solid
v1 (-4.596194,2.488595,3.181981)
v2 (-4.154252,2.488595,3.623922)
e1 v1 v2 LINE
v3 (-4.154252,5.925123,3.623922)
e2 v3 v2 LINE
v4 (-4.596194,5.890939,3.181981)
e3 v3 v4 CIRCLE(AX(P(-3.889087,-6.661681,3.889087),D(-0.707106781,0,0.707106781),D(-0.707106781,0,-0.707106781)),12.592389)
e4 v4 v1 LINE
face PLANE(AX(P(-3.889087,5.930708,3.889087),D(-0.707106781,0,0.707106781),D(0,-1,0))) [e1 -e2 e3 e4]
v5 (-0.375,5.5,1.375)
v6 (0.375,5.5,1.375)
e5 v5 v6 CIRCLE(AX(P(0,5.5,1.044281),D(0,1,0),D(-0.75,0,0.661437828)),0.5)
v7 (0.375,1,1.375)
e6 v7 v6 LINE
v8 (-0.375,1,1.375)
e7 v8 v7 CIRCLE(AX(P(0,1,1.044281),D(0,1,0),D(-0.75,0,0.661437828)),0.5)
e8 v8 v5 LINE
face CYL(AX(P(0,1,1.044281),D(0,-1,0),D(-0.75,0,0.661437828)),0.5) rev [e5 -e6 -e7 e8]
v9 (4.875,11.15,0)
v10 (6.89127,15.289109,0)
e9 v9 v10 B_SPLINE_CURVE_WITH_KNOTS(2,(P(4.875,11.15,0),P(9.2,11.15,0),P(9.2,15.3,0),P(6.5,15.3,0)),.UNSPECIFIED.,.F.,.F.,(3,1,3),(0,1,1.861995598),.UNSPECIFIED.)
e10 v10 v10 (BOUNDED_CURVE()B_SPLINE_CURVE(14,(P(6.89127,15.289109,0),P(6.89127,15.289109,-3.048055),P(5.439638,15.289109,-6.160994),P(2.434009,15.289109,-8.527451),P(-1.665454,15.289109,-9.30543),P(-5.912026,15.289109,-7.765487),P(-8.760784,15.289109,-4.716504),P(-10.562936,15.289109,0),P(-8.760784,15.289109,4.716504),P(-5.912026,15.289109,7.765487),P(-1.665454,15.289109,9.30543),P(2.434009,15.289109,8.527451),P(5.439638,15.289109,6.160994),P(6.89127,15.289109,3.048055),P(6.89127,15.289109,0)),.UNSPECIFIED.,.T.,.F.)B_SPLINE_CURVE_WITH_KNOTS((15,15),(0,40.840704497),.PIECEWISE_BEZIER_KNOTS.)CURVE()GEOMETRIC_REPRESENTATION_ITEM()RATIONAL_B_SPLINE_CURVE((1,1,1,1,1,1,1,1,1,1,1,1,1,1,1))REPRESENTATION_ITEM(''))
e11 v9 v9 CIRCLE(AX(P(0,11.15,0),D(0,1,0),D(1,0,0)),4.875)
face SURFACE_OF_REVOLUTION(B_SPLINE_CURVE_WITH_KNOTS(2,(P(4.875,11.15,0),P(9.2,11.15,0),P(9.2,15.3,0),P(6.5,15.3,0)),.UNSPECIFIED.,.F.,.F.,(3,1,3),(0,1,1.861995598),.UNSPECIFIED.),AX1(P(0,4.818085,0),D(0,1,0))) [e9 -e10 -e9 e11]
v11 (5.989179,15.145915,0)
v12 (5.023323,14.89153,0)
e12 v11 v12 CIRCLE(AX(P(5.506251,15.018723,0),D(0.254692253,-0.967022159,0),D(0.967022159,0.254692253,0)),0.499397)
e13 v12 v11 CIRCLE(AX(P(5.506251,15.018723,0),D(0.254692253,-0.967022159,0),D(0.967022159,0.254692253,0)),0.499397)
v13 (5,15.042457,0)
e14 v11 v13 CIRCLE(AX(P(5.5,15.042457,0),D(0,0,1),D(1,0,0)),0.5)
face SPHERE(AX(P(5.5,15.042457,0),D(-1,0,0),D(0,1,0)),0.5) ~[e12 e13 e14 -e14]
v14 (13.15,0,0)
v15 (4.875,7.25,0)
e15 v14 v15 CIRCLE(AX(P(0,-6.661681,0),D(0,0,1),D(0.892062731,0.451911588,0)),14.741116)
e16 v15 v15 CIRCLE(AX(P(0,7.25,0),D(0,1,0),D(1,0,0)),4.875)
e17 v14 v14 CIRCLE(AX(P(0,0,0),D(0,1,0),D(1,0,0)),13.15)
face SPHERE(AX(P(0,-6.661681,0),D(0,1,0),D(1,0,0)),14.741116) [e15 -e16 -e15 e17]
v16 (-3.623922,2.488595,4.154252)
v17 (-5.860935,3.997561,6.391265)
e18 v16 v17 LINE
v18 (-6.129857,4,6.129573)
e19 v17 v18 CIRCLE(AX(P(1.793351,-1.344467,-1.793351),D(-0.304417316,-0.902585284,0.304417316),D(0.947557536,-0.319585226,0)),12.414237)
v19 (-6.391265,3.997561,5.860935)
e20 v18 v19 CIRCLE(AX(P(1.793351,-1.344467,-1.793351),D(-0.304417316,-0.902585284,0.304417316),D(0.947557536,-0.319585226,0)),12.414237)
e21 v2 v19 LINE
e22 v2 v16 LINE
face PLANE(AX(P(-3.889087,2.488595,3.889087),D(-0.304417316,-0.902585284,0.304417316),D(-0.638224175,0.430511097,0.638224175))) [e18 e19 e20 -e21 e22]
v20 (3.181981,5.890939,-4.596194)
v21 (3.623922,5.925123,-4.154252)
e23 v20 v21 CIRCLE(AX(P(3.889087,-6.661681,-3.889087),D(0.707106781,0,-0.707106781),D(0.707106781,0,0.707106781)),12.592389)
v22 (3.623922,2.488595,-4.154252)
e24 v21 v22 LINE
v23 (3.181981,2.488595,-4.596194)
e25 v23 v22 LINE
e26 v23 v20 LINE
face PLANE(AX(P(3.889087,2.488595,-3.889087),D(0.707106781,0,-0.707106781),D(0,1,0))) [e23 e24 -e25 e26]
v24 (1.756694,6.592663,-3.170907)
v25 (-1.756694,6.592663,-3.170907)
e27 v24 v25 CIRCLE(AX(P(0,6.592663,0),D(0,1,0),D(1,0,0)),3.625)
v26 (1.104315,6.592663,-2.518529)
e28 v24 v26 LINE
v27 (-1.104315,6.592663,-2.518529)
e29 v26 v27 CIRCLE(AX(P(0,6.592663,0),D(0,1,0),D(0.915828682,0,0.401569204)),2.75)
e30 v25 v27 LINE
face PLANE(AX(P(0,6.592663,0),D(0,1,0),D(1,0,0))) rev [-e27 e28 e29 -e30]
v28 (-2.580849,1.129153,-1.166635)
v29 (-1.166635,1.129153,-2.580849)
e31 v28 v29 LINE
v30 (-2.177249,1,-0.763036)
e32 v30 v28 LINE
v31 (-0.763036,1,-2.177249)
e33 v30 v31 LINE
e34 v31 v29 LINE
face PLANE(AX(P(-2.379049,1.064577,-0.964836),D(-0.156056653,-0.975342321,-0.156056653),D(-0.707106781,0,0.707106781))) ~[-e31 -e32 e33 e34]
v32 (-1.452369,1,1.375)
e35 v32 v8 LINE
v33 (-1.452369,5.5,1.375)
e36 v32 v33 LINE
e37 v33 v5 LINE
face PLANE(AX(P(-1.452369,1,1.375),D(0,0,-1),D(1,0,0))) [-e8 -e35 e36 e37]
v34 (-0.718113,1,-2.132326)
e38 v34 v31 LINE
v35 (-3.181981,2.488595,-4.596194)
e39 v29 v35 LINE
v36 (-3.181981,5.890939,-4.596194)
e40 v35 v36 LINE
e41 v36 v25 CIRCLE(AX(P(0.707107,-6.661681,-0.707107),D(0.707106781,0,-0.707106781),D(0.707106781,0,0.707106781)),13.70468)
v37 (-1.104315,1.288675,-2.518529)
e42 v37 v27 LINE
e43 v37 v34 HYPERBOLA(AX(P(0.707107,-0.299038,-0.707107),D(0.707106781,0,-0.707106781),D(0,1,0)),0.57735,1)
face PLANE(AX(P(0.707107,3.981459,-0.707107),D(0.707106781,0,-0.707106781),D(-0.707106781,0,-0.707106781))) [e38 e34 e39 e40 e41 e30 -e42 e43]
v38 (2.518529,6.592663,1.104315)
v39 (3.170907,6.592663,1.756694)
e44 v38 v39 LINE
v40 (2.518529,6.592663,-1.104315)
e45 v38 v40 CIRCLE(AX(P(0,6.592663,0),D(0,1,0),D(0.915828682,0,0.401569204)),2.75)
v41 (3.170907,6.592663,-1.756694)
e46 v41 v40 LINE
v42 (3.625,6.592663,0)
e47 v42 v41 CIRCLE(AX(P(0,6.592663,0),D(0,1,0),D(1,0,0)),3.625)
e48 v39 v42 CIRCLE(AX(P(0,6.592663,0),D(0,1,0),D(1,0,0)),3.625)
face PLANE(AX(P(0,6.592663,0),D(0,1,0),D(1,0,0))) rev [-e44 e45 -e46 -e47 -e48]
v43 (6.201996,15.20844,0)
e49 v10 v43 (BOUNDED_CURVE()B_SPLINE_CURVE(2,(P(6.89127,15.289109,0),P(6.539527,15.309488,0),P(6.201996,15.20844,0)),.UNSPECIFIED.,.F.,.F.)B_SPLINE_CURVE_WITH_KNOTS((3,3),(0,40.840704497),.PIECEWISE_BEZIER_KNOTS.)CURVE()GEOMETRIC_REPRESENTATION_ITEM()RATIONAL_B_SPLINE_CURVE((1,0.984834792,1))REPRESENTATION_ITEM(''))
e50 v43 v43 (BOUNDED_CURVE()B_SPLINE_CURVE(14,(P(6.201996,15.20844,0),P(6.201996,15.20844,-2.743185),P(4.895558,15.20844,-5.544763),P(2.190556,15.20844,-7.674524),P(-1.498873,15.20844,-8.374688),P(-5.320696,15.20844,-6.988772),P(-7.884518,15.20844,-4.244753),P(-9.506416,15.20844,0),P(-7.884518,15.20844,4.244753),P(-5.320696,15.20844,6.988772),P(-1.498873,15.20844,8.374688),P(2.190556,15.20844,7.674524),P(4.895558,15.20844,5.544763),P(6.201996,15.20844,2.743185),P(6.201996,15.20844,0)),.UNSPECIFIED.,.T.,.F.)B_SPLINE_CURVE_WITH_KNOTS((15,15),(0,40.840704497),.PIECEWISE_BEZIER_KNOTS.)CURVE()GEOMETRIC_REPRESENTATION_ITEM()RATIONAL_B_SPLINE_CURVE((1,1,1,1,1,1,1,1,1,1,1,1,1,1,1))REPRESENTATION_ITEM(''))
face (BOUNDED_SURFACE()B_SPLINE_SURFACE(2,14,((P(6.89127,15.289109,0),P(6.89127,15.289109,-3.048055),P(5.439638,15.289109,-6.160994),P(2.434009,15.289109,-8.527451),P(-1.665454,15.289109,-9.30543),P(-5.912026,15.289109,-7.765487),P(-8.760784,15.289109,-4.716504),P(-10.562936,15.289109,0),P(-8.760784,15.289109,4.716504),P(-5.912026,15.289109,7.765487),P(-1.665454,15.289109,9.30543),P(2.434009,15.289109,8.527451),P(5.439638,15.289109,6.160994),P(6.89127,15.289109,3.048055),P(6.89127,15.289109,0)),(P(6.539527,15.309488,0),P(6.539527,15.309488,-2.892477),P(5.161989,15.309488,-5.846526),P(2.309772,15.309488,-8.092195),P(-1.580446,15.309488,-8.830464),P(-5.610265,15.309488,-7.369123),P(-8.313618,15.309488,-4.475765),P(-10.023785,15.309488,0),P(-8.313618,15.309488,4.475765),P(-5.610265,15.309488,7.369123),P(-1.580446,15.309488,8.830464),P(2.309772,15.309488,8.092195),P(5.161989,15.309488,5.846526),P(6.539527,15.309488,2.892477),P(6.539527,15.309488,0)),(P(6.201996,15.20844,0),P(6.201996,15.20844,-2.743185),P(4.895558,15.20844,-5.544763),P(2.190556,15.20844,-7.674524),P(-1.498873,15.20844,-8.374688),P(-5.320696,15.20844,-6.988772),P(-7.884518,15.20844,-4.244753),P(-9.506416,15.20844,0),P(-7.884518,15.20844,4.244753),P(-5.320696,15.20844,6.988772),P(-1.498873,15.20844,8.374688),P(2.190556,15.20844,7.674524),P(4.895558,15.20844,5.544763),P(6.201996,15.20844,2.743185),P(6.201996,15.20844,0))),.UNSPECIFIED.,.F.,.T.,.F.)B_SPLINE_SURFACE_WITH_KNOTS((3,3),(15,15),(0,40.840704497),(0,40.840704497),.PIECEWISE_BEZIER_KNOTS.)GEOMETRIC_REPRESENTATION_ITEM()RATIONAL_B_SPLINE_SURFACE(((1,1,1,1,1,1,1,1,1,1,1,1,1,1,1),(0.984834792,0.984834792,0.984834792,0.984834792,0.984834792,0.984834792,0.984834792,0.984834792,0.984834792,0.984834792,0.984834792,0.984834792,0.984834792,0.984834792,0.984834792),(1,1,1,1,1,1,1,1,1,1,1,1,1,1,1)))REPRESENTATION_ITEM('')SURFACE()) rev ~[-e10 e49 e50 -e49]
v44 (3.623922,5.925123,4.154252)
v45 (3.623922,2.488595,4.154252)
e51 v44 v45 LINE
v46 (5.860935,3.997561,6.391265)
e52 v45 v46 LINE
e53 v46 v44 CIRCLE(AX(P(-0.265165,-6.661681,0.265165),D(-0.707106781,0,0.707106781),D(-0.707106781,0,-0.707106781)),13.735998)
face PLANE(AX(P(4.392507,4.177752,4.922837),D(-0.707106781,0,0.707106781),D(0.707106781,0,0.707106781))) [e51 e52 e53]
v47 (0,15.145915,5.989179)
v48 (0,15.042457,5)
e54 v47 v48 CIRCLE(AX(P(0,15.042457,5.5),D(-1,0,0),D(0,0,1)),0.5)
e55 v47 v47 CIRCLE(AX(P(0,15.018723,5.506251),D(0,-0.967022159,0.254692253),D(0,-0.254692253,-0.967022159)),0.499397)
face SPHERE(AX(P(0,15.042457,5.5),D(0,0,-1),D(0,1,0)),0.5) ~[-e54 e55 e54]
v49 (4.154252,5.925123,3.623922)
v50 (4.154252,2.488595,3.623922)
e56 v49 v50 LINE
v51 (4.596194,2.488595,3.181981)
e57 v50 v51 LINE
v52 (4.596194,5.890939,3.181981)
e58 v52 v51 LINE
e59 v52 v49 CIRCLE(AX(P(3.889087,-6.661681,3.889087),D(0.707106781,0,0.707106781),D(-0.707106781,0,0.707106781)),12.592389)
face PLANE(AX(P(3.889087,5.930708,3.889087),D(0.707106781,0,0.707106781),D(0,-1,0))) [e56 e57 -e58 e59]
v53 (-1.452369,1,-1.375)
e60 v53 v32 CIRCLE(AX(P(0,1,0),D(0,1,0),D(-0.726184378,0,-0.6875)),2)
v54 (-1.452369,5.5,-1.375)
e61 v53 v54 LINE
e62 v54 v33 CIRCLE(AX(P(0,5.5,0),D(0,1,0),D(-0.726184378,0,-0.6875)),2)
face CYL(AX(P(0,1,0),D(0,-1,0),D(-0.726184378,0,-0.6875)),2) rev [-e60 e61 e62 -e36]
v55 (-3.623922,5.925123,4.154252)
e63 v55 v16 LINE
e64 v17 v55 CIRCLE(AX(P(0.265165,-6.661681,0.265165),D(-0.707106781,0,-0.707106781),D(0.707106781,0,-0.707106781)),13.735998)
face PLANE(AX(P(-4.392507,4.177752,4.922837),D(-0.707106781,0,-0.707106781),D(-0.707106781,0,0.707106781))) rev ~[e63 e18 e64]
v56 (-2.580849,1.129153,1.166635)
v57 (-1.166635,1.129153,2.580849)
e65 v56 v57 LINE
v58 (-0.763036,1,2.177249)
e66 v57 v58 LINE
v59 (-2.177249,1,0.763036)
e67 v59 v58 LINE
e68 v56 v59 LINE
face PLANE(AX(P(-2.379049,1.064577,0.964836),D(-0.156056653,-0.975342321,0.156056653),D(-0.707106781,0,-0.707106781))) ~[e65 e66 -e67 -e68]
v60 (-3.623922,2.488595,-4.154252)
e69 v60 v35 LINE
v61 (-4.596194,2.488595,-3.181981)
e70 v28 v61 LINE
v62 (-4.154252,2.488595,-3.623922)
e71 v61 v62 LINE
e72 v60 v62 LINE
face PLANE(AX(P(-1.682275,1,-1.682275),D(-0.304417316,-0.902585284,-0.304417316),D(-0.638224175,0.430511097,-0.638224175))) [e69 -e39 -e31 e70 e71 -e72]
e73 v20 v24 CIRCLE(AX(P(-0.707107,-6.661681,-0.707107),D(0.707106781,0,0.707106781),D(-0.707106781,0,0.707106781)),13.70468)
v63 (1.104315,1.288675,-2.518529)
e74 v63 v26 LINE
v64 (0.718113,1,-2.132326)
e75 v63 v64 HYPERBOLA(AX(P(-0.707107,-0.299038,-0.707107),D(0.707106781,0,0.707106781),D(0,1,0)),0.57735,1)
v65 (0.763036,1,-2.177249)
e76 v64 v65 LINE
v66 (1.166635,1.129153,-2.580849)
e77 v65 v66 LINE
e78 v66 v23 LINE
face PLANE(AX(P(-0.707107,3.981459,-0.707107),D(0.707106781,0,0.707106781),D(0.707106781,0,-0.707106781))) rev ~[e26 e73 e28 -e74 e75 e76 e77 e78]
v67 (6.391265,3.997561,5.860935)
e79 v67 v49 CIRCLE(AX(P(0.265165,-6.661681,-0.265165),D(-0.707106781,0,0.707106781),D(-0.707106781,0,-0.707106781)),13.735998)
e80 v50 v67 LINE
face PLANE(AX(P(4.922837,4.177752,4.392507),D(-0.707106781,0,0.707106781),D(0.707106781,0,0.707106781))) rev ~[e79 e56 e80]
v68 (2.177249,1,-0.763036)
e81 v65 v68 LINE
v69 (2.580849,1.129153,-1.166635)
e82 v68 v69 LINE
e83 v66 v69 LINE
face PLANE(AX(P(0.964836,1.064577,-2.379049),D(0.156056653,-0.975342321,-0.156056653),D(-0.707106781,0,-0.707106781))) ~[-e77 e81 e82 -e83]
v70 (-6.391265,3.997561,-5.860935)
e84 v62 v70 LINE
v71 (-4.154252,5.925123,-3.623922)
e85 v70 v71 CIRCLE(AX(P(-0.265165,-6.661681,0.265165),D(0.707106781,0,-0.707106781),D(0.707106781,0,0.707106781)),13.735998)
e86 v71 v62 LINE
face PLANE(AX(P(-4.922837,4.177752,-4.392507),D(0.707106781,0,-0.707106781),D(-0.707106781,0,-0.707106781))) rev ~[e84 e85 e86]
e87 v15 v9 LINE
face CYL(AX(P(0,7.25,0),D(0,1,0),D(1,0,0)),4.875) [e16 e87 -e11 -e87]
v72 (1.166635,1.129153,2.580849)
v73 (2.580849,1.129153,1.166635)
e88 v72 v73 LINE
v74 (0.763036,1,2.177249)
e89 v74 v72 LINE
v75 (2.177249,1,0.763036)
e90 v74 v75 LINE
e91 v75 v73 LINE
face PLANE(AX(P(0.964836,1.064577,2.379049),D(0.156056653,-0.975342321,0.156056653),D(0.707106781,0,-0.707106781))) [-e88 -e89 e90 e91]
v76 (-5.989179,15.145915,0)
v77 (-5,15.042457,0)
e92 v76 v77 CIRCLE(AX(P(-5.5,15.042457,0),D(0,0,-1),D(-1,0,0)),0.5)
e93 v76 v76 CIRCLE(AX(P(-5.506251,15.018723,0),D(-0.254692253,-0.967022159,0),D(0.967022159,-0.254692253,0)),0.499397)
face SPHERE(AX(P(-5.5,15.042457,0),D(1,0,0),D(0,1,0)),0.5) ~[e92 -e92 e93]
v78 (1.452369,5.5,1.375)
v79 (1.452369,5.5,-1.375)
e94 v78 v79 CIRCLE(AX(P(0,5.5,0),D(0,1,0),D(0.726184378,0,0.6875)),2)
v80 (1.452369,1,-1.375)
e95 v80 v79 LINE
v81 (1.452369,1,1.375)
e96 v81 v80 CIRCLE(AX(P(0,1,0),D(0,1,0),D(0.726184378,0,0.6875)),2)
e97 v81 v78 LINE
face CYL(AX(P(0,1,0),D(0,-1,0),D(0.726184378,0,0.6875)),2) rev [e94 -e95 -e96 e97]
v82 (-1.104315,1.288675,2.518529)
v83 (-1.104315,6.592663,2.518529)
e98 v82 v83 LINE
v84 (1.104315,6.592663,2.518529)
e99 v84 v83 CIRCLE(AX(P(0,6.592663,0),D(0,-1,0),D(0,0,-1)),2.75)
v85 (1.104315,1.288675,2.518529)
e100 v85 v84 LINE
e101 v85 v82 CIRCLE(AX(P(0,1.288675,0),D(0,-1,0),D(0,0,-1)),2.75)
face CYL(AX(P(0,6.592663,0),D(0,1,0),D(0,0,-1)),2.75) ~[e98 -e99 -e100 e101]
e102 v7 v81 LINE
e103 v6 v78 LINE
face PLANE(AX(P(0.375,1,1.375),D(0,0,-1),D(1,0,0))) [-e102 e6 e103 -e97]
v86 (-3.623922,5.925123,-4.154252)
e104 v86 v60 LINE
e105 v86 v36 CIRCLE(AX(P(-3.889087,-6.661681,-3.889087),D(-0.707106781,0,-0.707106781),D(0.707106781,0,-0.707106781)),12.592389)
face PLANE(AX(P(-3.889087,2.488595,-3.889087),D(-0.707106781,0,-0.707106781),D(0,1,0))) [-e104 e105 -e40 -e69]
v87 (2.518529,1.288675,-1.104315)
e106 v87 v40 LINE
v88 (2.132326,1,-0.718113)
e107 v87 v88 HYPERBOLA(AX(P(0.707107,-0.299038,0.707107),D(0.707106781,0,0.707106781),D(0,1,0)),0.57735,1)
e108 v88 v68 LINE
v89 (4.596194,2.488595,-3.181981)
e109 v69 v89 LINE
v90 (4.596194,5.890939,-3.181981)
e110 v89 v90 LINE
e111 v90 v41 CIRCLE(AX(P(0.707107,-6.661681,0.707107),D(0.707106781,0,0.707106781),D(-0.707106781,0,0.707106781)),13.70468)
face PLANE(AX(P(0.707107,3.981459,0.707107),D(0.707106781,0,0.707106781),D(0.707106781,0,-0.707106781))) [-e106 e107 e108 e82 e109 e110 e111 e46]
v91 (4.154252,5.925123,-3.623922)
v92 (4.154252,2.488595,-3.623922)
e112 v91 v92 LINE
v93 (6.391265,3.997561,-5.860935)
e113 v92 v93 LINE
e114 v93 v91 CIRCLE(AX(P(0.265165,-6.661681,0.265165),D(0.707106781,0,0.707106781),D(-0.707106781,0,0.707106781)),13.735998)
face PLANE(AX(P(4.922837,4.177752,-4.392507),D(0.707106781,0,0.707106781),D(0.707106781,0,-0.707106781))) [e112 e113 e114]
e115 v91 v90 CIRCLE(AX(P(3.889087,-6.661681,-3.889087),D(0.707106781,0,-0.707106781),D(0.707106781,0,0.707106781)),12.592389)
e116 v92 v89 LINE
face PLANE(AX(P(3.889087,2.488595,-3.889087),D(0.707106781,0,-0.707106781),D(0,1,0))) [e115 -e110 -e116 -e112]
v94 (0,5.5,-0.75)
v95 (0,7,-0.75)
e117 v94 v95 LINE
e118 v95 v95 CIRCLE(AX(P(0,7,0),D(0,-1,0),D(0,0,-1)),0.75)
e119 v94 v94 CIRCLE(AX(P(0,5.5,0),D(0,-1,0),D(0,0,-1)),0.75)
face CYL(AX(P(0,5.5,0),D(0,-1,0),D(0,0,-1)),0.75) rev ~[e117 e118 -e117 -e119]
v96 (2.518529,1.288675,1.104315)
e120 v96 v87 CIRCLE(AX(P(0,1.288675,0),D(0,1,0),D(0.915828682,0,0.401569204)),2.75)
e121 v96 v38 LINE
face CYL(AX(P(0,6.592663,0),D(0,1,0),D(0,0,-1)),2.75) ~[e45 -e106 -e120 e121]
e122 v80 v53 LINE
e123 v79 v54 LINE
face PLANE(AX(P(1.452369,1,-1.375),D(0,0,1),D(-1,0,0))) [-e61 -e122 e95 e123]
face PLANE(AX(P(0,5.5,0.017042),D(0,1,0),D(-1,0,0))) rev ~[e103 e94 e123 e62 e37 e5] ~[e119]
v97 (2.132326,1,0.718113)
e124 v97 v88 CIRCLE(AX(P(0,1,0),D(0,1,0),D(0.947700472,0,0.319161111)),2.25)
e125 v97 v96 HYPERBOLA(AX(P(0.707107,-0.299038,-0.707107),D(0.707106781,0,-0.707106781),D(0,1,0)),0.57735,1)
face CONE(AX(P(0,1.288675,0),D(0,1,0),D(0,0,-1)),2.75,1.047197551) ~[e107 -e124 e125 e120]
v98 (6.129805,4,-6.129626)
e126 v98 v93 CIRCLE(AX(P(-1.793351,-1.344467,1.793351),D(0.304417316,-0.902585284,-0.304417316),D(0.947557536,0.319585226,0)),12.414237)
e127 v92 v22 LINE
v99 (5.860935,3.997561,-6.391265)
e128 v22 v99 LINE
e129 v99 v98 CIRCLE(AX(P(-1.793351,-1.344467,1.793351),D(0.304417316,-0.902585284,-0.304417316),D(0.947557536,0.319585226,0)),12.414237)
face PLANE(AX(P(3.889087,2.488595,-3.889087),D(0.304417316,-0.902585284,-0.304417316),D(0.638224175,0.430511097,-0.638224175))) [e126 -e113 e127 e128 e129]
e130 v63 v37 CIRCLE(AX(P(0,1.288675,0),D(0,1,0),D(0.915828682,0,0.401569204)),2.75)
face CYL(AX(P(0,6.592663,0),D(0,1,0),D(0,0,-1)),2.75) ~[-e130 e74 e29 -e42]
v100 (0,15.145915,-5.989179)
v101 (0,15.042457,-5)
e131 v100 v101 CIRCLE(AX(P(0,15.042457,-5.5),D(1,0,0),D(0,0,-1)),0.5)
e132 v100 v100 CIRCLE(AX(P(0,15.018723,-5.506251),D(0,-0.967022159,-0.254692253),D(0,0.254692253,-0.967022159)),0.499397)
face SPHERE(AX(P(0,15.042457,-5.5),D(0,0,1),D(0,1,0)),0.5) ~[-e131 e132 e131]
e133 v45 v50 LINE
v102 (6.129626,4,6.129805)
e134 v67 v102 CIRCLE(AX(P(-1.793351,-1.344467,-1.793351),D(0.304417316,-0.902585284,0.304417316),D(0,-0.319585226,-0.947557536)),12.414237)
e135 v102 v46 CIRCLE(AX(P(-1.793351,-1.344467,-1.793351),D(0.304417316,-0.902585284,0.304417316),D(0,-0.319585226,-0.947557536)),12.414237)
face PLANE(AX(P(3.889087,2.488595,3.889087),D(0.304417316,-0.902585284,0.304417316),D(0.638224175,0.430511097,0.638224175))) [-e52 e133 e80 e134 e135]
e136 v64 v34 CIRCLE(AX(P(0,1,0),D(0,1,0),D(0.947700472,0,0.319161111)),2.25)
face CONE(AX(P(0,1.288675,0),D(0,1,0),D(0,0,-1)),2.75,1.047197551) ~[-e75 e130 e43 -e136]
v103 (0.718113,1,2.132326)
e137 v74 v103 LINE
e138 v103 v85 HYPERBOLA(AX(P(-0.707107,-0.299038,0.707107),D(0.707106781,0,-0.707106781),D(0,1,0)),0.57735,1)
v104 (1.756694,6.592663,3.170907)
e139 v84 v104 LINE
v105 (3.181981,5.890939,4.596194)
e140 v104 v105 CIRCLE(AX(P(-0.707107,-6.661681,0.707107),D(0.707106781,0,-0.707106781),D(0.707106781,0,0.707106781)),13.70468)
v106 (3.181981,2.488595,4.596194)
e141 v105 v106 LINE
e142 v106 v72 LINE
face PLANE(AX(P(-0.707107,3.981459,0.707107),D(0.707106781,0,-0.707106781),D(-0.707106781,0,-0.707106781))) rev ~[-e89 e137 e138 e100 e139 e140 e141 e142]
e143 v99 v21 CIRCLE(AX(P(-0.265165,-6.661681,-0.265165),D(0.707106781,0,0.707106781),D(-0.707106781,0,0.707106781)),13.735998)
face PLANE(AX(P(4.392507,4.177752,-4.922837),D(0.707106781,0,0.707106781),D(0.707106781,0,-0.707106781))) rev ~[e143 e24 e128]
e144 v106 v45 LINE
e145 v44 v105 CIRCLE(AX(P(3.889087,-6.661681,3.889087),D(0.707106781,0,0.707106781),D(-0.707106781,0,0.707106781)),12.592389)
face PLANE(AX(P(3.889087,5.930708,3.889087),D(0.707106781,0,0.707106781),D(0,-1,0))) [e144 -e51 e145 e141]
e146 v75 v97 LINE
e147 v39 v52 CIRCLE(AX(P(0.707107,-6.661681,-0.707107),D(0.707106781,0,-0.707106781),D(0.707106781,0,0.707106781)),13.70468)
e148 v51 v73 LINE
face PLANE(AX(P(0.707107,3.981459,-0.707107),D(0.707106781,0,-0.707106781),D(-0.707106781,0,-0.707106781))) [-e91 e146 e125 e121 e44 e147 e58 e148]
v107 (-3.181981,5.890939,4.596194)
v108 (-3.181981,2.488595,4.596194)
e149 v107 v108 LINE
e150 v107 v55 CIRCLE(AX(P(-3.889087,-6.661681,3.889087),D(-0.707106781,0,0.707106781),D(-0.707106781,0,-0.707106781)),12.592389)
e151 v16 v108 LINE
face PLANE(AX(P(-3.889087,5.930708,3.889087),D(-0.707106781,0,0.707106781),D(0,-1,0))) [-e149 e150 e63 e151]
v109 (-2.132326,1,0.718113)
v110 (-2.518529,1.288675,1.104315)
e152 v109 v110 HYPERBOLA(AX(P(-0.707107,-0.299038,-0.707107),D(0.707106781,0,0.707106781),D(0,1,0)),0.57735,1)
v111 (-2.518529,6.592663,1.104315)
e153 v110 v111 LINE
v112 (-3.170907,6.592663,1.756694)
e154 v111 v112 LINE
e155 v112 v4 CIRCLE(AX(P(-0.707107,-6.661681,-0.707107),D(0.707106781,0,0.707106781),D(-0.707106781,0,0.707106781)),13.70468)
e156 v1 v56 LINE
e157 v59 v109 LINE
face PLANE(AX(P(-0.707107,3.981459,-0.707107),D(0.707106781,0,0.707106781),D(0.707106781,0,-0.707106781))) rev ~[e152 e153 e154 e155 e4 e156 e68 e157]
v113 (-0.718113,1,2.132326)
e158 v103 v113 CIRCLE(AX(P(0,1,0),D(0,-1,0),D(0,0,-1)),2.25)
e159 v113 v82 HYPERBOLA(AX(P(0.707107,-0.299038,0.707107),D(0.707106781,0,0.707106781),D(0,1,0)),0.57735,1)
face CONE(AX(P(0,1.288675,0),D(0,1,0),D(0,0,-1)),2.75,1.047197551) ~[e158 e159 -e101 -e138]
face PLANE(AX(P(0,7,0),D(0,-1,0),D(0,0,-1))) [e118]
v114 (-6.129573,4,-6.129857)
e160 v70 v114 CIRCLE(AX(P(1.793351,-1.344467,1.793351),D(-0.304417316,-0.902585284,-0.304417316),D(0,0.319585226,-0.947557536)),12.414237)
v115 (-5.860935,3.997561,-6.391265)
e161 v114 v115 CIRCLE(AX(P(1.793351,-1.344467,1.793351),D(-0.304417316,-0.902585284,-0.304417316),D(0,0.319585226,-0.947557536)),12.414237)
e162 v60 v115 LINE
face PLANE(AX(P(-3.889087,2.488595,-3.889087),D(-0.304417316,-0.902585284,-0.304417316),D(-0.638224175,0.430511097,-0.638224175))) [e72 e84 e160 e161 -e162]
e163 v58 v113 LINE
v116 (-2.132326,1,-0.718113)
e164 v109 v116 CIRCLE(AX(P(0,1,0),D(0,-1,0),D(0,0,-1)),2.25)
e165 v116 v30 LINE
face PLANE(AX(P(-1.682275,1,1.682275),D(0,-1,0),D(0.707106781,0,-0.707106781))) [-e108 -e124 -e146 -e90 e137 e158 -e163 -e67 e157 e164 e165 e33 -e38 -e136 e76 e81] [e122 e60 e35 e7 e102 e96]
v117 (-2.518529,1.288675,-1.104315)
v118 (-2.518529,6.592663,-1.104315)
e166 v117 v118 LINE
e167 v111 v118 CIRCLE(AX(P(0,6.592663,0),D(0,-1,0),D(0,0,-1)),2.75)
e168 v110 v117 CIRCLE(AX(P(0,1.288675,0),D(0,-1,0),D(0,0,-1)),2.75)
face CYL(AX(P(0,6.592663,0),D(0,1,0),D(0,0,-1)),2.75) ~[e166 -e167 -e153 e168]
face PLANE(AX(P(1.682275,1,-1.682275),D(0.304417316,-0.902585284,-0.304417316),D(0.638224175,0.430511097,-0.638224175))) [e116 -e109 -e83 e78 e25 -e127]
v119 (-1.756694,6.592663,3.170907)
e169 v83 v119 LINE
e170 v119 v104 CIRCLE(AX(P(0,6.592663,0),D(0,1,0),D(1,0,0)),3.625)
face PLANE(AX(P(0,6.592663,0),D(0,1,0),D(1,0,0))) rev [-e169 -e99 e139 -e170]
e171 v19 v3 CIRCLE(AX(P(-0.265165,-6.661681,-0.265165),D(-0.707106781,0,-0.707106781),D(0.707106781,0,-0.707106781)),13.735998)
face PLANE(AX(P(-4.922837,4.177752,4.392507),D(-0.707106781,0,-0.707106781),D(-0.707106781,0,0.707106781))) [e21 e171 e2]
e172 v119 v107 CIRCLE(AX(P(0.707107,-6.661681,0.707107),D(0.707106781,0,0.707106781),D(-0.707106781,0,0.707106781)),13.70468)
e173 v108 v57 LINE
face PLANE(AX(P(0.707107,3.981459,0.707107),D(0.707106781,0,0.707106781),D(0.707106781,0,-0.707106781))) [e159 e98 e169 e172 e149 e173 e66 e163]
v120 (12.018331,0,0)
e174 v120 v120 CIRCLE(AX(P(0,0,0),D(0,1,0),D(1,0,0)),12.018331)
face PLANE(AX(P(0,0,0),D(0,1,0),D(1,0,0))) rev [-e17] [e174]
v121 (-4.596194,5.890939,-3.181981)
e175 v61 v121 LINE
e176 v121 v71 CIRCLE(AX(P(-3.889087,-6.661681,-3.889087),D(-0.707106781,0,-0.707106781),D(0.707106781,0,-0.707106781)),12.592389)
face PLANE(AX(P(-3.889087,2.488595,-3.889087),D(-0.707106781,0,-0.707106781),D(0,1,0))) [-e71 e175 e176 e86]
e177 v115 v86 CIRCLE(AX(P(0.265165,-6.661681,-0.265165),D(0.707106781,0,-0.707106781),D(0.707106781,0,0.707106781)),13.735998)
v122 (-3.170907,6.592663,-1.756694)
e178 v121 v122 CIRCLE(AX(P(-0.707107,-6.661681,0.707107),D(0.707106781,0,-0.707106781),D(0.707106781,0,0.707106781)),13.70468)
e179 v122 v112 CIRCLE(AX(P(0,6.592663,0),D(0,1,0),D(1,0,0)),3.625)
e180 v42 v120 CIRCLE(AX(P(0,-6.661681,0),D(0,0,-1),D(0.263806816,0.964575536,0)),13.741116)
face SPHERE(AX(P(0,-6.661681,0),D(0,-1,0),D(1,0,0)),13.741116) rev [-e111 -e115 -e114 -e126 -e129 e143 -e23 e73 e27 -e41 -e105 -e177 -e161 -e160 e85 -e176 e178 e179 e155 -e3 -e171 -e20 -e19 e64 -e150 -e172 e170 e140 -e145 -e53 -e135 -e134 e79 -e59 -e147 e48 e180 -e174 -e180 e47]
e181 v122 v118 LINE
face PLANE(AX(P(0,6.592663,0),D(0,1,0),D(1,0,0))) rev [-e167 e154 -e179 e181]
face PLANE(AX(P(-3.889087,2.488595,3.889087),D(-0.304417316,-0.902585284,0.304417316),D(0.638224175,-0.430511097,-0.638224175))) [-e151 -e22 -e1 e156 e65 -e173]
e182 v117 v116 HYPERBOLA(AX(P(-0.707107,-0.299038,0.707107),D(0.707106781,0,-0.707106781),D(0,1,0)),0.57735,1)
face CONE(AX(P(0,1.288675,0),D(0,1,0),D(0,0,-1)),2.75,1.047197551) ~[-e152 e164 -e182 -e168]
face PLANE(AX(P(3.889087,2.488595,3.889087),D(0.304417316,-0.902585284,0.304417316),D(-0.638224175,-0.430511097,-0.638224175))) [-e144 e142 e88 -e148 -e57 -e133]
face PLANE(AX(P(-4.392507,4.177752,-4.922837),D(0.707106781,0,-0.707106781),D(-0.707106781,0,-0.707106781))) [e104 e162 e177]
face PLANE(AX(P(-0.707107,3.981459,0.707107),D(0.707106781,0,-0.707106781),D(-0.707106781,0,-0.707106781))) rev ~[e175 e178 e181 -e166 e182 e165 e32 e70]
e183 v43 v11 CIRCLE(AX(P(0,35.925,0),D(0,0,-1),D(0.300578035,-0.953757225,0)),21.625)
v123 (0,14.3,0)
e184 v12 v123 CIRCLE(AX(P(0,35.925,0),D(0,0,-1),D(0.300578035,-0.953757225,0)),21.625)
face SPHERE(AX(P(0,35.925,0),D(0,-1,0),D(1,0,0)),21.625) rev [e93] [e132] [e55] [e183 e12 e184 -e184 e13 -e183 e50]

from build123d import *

# Parameters (mm, degrees)
FILLET1_R         = 2
CIRPATTERN1_COUNT = 4
SKETCH7_R         = 2.75
EXTRUDE4_DEPTH    = 5.592663071
CHAMFER7_SIZE     = 0.5
CHAMFER7_SIZE2    = 0.288675135
EXTRUDE1_DEPTH    = 1
EXTRUDE2_DEPTH    = 0.375
CIRPATTERN2_COUNT = 2
CIRPATTERN2_ANGLE = 90
CHAMFER8_SIZE     = 0.3
EXTRUDE5_DEPTH    = 4.5
SKETCH10_R        = 0.75
EXTRUDE6_DEPTH    = 1.5


with BuildPart() as part:
    # Sketch1 → Revolve1 (revolve)
    with BuildSketch(Plane.XY):
        with BuildLine():
            Line((4.875, 7.25), (4.875, 11.15))
            add(Edge.make_bspline(
                [(4.875, 11.15), (9.2, 11.15), (9.2, 13.37879152)],
                knots=[0, 0, 0, 1, 1, 1], degree=2))
            add(Edge.make_bspline(
                [(6.5, 15.3), (9.2, 15.3), (9.2, 13.37879152)],
                knots=[0, 0, 0, 1, 1, 1], degree=2))
            ThreePointArc((6.5, 15.3), (3.288236609, 14.551462038), (0, 14.3))
            Line((0, 14.3), (0, 6.592663071))
            Line((0, 6.592663071), (3.625, 6.592663071))
            ThreePointArc((3.625, 6.592663071), (8.487888372, 4.14452152), (12.018330519, 0))
            Line((12.018330519, 0), (13.15, 0))
            ThreePointArc((13.15, 0), (9.714205127, 4.425911714), (4.875, 7.25))
        make_face()
    revolve(axis=Axis((0, 4.818084651, 0), (0, 1, 0)))

    # Fillet1
    fillet1_edges = [part.edges().sort_by_distance(p)[0] for p in [
        (-6.5, 15.3, 0),
    ]]
    fillet(fillet1_edges, radius=FILLET1_R)

    # Sketch2 → Revolve2 (revolve)
    with BuildSketch(Plane.XY):
        with BuildLine():
            Line((5, 15.042457163), (6, 15.042457163))
            ThreePointArc((6, 15.042457163), (5.5, 15.542457163), (5, 15.042457163))
        make_face()
    revolve2 = revolve(axis=Axis((5, 15.042457163, 0), (1, 0, 0)))

    # CirPattern1: Revolve2 ×4 about axis
    cirpattern1_axis = Axis((0, 0, 0), (0, 1, 0))
    for i in range(1, CIRPATTERN1_COUNT):
        add(revolve2.rotate(cirpattern1_axis, i * 360 / CIRPATTERN1_COUNT))

    # Sketch7 → Extrude4 (add)
    with BuildSketch(Plane.XZ.offset(-6.592663071)):
        with Locations(Location((0, 0, 0), (0, 0, 270))):
            Circle(SKETCH7_R)
    extrude(amount=EXTRUDE4_DEPTH)

    # Chamfer7
    chamfer7_edges = [part.edges().sort_by_distance(p)[0] for p in [
        (0, 1, 2.75),
    ]]
    chamfer7_side = [part.faces().sort_by_distance(p)[0] for p in [
        (0, 1, 0),
    ]]
    chamfer(chamfer7_edges, length=CHAMFER7_SIZE, length2=CHAMFER7_SIZE2, reference=chamfer7_side[0])

    # Sketch4 → Extrude1 (add, symmetric)
    with BuildSketch(Plane(origin=(0, 0, 0), x_dir=(-0.7071067811865462, 0, -0.7071067811865488), z_dir=(0.7071067811865488, 0, -0.7071067811865462))):
        with BuildLine():
            Line((-5.5, 5.930708042), (-5.5, 2.488594961))
            Line((-5.5, 2.488594961), (-2.379095763, 1))
            Line((-2.379095763, 1), (2.379095763, 1))
            Line((2.379095763, 1), (5.5, 2.488594961))
            Line((5.5, 2.488594961), (5.5, 5.930708042))
            ThreePointArc((5.5, 5.930708042), (4.574489301, 6.295645476), (3.625, 6.592663071))
            Line((3.625, 6.592663071), (-3.625, 6.592663071))
            ThreePointArc((-3.625, 6.592663071), (-4.574489301, 6.295645476), (-5.5, 5.930708042))
        make_face()
    extrude1 = extrude(amount=EXTRUDE1_DEPTH, both=True)

    # Sketch5 → Extrude2 (add, symmetric)
    with BuildSketch(Plane(origin=(0, 0, 0), x_dir=(0.7071067811865462, 0, 0.7071067811865488), z_dir=(-0.7071067811865488, 0, 0.7071067811865462))):
        with BuildLine():
            Line((-5.5, 2.488594961), (-8.66872656, 4))
            ThreePointArc((-8.66872656, 4), (-7.149832968, 5.072804518), (-5.5, 5.930708042))
            Line((-5.5, 5.930708042), (-5.5, 2.488594961))
        make_face()
        with BuildLine():
            Line((5.5, 2.488594961), (8.66872656, 4))
            ThreePointArc((8.66872656, 4), (7.149832968, 5.072804518), (5.5, 5.930708042))
            Line((5.5, 5.930708042), (5.5, 2.488594961))
        make_face()
    extrude2 = extrude(amount=EXTRUDE2_DEPTH, both=True)

    # CirPattern2: Extrude1, Extrude2 ×2 about axis
    cirpattern2_axis = Axis((0, 0, 0), (0, -1, 0))
    add([extrude1.rotate(cirpattern2_axis, i * CIRPATTERN2_ANGLE / (CIRPATTERN2_COUNT - 1)) for i in range(1, CIRPATTERN2_COUNT)])
    add([extrude2.rotate(cirpattern2_axis, i * CIRPATTERN2_ANGLE / (CIRPATTERN2_COUNT - 1)) for i in range(1, CIRPATTERN2_COUNT)])

    # Chamfer8
    chamfer8_edges = [part.edges().sort_by_distance(p)[0] for p in [
        (-1.682274747, 1, 1.682274747),
        (1.682274747, 1, -1.682274747),
        (1.682274747, 1, 1.682274747),
        (-1.682274747, 1, -1.682274747),
    ]]
    chamfer(chamfer8_edges, length=CHAMFER8_SIZE)

    # Sketch9 → Extrude5 (cut)
    with BuildSketch(Plane.XZ.offset(-1)):
        with BuildLine():
            Line((-1.452368755, 1.375), (-0.375, 1.375))
            ThreePointArc((-0.375, 1.375), (0, 1.544281086), (0.375, 1.375))
            Line((0.375, 1.375), (1.452368755, 1.375))
            ThreePointArc((1.452368755, 1.375), (2, 0), (1.452368755, -1.375))
            Line((1.452368755, -1.375), (-1.452368755, -1.375))
            ThreePointArc((-1.452368755, -1.375), (-2, 0), (-1.452368755, 1.375))
        make_face()
    extrude(amount=-EXTRUDE5_DEPTH, mode=Mode.SUBTRACT)

    # Sketch10 → Extrude6 (cut)
    with BuildSketch(Plane.XZ.offset(-5.5)):
        with Locations(Location((0, 0, 0), (0, 0, 270))):
            Circle(SKETCH10_R)
    extrude(amount=-EXTRUDE6_DEPTH, mode=Mode.SUBTRACT)


solid = part.part
